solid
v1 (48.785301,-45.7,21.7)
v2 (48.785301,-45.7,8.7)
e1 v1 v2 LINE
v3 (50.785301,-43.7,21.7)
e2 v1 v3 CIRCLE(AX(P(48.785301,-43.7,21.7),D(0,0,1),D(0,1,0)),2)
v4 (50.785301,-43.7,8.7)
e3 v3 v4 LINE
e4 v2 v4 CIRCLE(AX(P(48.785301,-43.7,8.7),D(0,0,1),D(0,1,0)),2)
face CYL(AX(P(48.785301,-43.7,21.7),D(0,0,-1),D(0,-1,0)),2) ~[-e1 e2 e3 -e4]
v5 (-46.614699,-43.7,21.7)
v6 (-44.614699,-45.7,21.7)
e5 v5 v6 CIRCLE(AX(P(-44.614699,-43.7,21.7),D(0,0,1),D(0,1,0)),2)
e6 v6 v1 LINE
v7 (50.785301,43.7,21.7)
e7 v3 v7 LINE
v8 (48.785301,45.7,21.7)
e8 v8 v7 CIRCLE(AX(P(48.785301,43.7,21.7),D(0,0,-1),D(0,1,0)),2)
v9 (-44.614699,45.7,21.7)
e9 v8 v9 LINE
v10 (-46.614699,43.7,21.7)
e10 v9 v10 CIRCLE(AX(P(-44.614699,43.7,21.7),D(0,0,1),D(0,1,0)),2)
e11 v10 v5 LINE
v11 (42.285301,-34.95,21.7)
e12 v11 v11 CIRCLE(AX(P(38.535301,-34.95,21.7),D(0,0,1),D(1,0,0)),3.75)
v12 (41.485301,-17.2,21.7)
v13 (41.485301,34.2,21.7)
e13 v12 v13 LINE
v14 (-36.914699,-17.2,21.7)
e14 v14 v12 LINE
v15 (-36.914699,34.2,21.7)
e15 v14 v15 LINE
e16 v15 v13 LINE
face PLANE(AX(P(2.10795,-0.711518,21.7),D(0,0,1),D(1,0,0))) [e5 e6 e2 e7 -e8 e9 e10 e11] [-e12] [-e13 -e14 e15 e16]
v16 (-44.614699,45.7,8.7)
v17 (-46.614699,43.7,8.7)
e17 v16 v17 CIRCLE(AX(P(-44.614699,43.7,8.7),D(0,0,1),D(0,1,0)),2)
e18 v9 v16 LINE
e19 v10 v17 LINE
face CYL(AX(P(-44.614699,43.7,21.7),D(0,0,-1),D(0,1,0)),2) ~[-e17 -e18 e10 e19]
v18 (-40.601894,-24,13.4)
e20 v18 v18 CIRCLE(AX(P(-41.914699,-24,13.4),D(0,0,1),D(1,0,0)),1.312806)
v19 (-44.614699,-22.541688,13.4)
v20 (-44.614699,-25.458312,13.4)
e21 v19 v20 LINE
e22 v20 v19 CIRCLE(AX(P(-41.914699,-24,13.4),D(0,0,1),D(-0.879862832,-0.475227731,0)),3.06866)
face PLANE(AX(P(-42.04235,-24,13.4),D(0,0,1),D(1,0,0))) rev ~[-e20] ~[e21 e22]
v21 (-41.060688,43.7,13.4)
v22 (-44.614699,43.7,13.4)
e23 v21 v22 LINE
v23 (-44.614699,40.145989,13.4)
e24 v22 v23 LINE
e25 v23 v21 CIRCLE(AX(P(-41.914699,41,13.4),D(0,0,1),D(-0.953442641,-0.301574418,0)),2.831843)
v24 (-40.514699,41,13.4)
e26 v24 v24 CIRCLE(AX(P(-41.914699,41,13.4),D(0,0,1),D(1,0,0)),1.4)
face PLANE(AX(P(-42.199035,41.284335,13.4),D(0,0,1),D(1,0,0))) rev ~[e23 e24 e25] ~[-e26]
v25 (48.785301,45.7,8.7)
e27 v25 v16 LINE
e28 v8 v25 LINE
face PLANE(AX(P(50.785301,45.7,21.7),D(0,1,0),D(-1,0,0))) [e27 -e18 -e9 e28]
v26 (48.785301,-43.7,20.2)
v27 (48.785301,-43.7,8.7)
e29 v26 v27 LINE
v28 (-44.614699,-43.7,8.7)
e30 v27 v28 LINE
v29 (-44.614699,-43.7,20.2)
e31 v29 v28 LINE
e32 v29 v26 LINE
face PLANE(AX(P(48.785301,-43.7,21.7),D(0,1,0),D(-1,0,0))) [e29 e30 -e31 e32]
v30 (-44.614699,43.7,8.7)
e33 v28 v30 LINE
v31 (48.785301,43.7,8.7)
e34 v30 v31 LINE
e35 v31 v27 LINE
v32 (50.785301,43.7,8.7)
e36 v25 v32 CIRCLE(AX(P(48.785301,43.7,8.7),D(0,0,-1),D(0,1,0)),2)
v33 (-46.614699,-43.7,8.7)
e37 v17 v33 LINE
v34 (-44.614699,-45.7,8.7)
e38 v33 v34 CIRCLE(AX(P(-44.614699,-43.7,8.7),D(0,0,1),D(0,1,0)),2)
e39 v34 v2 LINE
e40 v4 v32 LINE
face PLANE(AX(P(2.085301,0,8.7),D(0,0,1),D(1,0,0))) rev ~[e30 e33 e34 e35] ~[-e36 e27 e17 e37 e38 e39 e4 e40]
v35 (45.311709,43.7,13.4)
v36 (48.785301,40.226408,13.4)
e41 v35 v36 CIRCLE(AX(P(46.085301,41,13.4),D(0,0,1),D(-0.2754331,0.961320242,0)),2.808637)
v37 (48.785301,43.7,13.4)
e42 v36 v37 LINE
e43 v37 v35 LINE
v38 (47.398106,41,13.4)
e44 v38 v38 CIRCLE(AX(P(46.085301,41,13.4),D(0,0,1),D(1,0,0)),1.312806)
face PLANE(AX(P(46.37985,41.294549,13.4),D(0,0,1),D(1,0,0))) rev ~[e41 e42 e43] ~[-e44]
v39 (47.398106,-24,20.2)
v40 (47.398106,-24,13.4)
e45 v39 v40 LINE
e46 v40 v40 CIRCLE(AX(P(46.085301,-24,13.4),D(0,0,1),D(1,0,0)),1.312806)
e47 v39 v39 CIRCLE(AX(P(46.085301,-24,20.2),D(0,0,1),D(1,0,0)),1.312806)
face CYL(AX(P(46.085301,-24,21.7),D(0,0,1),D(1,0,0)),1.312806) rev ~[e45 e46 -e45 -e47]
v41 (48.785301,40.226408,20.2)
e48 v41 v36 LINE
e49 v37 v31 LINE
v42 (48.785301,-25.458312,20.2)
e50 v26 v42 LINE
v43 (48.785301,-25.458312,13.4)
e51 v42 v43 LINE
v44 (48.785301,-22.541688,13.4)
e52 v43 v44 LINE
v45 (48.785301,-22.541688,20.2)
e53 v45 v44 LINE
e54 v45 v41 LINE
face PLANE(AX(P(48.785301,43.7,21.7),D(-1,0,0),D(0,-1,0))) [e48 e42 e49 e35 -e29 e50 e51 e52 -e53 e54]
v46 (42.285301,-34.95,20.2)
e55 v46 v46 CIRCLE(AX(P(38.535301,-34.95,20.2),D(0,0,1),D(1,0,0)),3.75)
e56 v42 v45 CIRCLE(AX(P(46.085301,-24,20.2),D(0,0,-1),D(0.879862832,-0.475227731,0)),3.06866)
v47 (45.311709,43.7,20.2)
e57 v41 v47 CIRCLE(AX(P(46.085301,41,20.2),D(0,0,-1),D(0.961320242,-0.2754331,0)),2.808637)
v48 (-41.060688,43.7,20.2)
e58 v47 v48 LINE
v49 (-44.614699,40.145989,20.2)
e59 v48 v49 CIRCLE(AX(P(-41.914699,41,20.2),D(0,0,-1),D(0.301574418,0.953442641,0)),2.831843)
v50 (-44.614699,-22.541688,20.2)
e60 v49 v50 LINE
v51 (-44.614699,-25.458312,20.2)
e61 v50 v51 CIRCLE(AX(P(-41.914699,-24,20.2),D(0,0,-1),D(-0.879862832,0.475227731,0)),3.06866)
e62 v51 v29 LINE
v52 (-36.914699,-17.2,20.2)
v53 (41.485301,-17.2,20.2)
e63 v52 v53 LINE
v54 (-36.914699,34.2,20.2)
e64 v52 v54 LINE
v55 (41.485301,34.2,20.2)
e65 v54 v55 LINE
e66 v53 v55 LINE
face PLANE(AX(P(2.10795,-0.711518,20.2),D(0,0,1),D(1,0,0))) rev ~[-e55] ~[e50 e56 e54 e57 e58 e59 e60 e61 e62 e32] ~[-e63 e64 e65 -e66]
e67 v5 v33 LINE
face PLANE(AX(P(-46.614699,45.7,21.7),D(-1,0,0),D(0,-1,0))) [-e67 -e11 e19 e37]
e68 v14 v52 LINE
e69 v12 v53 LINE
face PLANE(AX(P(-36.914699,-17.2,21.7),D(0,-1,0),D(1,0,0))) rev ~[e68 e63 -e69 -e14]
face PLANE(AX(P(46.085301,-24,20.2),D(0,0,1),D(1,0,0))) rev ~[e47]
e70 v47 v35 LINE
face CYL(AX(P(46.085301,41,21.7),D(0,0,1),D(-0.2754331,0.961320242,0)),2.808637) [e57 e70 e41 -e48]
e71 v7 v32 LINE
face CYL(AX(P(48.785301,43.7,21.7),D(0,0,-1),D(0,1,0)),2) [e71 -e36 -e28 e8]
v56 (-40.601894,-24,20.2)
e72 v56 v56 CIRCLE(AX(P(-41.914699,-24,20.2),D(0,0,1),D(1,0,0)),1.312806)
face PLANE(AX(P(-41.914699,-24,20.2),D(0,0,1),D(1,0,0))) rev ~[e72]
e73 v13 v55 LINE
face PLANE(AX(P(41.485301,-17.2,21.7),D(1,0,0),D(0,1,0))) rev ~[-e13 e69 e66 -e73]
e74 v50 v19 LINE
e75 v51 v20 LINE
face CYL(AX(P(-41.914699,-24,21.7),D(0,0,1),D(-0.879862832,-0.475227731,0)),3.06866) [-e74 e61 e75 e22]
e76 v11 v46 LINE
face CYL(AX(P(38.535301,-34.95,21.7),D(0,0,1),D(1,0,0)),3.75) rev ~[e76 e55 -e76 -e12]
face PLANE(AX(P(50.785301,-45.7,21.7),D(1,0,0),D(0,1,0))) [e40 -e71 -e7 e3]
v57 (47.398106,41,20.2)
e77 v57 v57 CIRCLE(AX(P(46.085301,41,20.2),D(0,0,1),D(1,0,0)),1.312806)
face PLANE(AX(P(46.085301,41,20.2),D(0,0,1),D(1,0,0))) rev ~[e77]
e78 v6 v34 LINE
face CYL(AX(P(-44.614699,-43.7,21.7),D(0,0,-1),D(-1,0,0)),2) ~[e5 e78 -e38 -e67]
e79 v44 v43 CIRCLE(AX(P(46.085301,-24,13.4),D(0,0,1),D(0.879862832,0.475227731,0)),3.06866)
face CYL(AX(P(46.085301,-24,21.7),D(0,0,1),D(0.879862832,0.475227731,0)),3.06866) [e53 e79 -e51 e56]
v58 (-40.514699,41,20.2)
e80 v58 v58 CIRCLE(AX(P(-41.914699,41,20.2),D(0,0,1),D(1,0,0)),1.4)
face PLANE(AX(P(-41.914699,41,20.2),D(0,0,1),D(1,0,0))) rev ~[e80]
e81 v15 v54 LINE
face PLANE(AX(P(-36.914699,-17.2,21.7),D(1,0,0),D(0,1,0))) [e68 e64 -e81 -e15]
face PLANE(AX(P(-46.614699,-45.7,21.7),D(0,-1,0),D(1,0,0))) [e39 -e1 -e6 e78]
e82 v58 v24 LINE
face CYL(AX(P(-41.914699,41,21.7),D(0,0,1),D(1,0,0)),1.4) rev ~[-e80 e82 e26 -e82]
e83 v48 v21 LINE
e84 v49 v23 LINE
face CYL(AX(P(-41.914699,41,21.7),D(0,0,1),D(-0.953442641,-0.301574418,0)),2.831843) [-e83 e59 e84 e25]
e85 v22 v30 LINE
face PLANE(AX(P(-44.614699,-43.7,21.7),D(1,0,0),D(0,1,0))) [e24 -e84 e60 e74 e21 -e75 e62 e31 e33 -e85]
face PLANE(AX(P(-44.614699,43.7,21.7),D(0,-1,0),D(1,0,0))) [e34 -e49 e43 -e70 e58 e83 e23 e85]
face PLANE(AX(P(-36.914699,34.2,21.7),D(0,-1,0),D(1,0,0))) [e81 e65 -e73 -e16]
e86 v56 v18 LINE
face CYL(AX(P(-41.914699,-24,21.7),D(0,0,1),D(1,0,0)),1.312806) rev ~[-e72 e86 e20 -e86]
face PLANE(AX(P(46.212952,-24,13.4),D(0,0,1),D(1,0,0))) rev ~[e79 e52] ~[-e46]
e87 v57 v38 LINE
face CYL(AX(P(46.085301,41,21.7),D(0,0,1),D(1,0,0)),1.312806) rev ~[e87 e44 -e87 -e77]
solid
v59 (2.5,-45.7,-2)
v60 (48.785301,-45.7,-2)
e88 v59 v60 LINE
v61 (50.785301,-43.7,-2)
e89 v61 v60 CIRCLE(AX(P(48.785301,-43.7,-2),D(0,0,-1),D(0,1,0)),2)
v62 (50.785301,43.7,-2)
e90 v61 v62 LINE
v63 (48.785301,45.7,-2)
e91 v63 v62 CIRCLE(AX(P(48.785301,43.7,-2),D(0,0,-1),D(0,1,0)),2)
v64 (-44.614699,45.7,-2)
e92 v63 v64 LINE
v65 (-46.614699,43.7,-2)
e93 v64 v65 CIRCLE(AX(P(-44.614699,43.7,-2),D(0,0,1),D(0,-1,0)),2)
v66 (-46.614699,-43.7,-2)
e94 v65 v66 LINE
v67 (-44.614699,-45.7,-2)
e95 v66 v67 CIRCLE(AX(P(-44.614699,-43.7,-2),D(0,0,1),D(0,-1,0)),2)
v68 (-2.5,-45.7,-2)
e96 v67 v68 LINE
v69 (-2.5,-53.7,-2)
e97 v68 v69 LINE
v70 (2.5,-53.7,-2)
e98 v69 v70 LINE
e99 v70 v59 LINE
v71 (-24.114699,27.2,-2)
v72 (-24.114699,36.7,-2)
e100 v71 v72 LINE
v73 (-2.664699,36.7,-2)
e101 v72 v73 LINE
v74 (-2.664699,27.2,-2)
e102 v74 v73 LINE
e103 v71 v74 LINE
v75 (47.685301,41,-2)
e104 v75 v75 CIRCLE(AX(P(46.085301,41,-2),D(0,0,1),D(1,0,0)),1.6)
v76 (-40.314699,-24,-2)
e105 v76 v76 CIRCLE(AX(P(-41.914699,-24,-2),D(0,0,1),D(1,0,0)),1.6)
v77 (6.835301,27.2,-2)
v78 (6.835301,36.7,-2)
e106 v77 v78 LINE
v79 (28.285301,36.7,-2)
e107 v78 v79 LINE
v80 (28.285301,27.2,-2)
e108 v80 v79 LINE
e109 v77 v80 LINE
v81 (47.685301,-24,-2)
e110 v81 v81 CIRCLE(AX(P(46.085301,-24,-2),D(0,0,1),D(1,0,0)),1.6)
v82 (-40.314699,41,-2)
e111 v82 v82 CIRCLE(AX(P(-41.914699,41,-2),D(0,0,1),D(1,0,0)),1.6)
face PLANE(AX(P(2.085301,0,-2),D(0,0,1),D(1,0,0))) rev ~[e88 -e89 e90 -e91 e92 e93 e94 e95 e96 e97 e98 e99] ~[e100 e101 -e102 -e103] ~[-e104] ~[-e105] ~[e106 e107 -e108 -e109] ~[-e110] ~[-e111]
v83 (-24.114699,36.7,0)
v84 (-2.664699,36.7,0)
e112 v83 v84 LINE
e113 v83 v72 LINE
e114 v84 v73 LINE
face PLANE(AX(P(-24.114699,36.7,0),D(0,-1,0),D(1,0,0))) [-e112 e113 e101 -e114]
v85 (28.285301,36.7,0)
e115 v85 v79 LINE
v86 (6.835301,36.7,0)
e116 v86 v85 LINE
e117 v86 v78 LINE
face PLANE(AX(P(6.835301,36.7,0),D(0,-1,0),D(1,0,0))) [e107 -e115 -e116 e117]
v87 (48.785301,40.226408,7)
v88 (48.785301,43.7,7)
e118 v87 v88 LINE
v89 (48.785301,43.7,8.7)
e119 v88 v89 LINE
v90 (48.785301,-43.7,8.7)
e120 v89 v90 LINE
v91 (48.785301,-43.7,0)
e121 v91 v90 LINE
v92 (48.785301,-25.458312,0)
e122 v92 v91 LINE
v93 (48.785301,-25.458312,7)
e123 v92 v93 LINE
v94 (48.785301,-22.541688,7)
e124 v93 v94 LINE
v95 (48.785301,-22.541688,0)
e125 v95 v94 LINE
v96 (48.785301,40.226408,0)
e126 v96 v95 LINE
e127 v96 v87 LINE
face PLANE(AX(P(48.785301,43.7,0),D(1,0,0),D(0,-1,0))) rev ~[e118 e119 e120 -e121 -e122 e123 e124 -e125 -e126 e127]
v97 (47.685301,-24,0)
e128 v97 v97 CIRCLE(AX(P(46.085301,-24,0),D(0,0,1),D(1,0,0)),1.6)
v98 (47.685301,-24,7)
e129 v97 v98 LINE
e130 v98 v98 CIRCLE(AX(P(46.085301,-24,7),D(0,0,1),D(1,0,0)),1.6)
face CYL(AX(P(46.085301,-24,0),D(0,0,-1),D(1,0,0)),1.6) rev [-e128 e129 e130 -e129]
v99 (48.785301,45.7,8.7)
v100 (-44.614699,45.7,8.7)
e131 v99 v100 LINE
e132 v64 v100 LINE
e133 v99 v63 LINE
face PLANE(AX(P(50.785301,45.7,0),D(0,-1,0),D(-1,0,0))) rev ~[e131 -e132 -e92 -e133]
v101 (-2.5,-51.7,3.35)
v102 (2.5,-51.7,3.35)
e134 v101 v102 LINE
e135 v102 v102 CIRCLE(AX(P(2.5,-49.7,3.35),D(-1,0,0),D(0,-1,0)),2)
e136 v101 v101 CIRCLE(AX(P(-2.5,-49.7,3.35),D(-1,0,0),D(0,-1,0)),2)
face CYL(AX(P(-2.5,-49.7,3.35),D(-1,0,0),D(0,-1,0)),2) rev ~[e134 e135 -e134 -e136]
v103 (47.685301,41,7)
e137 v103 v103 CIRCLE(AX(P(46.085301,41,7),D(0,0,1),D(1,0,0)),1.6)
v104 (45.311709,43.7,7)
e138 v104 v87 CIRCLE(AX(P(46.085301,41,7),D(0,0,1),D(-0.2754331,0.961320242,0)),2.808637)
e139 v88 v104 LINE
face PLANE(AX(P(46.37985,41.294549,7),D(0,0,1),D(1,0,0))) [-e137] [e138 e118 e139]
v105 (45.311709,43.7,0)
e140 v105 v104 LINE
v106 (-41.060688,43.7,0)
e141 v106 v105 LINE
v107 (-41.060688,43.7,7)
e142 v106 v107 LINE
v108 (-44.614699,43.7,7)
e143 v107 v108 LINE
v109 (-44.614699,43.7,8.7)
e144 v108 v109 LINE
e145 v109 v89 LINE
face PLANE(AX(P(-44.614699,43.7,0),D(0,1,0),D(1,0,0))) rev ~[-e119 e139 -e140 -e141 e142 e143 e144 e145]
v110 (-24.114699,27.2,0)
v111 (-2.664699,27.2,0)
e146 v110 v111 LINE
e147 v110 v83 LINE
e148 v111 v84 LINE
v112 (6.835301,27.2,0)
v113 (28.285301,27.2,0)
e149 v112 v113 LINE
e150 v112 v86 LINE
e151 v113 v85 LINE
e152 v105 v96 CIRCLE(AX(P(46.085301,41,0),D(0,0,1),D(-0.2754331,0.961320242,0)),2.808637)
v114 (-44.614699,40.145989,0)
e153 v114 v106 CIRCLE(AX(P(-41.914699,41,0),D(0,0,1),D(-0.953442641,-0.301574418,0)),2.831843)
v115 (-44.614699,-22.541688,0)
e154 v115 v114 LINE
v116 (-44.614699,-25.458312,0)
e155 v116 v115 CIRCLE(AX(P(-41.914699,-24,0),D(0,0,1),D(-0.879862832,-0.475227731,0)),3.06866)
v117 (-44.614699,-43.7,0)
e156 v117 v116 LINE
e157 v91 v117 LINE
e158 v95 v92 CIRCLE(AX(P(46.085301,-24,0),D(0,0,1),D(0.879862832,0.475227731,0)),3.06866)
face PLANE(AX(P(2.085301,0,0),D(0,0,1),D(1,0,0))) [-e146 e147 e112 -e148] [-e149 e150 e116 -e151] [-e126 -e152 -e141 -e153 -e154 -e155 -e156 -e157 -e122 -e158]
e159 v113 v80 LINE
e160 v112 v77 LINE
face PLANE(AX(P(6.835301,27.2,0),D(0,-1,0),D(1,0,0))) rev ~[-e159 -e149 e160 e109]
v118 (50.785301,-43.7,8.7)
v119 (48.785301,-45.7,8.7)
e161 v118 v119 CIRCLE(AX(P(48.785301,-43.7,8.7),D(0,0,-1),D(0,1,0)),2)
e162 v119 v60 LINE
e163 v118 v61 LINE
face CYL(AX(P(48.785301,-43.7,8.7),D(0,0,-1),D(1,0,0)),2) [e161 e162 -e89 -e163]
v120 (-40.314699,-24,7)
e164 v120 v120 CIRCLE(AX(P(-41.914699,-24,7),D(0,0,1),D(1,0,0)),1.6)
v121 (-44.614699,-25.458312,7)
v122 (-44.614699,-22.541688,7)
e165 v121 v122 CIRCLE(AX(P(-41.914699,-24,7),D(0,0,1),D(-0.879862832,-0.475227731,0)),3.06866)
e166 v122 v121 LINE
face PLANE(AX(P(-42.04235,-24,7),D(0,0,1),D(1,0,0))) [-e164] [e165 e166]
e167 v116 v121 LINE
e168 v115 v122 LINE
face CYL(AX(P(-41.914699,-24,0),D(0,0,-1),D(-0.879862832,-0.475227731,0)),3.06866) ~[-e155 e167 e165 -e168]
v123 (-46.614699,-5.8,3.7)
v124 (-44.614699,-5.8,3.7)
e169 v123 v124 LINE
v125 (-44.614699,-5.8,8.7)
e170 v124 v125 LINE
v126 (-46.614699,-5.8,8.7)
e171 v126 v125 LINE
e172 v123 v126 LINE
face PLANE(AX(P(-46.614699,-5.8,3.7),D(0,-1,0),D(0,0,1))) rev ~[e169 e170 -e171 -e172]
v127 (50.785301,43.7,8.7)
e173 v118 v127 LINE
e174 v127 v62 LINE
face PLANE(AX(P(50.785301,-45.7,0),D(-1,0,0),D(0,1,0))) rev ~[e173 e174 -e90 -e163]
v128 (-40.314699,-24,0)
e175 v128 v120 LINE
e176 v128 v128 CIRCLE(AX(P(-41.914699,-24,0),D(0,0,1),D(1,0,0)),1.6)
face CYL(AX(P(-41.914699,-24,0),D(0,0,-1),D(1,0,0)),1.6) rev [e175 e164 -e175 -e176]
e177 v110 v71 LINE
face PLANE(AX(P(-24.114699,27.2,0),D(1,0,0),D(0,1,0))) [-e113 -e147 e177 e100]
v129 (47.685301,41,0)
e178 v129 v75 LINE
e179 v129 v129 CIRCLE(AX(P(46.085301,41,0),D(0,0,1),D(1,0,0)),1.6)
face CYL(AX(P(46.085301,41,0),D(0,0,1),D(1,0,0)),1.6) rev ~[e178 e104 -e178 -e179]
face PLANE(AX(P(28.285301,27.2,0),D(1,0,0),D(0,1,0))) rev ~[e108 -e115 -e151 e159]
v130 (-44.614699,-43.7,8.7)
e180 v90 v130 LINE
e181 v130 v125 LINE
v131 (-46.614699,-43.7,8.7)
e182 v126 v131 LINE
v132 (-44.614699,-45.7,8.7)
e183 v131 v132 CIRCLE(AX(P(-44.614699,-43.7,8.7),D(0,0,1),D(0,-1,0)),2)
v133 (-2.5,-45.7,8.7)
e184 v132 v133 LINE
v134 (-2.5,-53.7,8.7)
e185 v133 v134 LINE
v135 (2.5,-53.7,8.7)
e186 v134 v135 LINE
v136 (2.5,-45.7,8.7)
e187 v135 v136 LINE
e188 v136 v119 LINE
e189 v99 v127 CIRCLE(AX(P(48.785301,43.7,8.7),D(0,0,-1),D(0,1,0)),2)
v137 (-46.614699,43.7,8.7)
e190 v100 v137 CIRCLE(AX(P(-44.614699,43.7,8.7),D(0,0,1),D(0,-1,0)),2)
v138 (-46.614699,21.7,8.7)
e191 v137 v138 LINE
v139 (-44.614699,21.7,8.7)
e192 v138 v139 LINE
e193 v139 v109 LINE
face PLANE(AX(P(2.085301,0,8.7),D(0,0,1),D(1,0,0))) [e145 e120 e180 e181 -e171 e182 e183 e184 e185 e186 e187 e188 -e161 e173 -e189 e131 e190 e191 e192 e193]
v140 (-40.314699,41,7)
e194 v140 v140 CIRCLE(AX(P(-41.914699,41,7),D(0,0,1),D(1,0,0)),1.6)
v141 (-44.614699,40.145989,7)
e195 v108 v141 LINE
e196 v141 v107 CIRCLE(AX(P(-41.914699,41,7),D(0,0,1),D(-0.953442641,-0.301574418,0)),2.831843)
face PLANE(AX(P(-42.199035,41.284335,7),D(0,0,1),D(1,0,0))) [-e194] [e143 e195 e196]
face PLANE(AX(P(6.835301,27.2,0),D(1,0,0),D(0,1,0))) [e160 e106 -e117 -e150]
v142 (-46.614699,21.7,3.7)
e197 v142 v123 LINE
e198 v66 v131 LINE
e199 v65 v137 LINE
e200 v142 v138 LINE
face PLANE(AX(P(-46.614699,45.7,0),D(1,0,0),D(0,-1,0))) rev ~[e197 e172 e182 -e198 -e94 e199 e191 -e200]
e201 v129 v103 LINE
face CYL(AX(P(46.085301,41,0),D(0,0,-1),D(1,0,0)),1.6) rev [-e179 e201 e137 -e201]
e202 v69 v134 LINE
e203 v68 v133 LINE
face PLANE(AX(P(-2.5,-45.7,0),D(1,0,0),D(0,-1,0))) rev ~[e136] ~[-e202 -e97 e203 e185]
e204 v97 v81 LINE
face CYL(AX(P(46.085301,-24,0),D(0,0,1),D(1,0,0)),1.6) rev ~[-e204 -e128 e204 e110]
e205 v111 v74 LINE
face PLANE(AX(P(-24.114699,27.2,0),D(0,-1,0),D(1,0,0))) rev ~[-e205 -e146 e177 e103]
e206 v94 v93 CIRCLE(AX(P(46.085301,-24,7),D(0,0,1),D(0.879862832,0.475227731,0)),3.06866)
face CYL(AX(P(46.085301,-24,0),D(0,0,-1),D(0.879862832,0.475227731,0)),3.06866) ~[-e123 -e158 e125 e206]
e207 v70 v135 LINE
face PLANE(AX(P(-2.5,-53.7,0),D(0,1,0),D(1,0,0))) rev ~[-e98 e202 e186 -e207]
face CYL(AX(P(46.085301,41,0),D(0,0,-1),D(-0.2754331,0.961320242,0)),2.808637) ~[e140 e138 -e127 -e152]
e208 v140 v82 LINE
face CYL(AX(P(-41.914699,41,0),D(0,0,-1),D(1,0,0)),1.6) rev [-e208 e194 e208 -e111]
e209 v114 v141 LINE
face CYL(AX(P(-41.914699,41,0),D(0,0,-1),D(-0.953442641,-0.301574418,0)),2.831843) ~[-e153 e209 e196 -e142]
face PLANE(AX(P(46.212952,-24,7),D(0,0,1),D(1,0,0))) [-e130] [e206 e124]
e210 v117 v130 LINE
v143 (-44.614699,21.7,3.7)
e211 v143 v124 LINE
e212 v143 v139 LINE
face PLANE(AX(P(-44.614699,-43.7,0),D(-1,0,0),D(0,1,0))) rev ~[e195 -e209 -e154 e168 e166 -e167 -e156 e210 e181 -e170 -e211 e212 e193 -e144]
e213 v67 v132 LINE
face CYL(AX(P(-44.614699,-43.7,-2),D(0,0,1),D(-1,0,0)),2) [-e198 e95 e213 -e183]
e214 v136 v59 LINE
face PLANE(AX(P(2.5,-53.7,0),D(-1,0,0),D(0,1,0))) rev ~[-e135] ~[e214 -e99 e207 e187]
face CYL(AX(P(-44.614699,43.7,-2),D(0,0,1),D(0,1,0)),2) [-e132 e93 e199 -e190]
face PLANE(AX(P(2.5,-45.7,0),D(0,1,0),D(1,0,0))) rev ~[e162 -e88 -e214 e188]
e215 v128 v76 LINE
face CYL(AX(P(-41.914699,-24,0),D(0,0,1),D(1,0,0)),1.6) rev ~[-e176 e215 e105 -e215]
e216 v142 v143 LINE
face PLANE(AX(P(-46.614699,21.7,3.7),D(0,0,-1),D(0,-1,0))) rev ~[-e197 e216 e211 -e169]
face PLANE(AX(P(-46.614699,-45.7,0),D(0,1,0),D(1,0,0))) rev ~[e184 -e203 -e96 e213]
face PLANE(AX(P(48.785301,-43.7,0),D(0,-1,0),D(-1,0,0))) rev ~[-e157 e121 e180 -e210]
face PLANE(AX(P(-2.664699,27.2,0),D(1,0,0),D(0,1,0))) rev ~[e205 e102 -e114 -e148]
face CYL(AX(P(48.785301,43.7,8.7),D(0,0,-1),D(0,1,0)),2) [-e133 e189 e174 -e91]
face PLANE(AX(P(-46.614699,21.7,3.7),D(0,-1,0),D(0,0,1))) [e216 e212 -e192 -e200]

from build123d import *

# Parameters (mm, degrees)
F0_W      = 21.45
F0_H      = 9.5
F0_R      = 1.6
F1_DEPTH  = 2
F2_DEPTH  = 7
F3_DEPTH  = 8.7
F4_W      = 27.5
F4_H      = 5
F5_DEPTH  = 2
F8_DEPTH  = 13
F7_R      = 1.4
F7_R_2    = 1.3128055781
F9_DEPTH  = 8.3
F7_R_3    = 3.75
F7_W      = 78.4
F7_H      = 51.4
F10_DEPTH = 1.5
F11_R     = 2
F12_DEPTH = 53.2863007297
F13_R     = 2
F13_2_R   = 2


with BuildPart() as f1:
    # F0 (on Top) → F1 (new body)
    with BuildSketch(Plane.XY):
        Polygon((50.7853007297, 45.7), (-46.6146992703, 45.7), (-46.6146992703, -45.7), (-2.5, -45.7), (2.5, -45.7), (50.7853007297, -45.7), align=None)
        Polygon((-44.6146992703, 40.1459885527), (-44.6146992703, 43.7), (-41.060687823, 43.7), (45.3117090194, 43.7), (48.7853007297, 43.7), (48.7853007297, 40.2264082898), (48.7853007297, -22.5416876048), (48.7853007297, -25.4583123952), (48.7853007297, -43.7), (-44.6146992703, -43.7), (-44.6146992703, -25.4583123952), (-44.6146992703, -22.5416876048), align=None, mode=Mode.SUBTRACT)
        with BuildLine():
            Line((45.3117090194, 43.7), (-41.060687823, 43.7))
            ThreePointArc((-41.060687823, 43.7), (-39.9122837849, 38.9975845146), (-44.6146992703, 40.1459885527))
            Line((-44.6146992703, 40.1459885527), (-44.6146992703, -22.5416876048))
            ThreePointArc((-44.6146992703, -22.5416876048), (-38.8460391324, -24), (-44.6146992703, -25.4583123952))
            Line((-44.6146992703, -25.4583123952), (-44.6146992703, -43.7))
            Line((-44.6146992703, -43.7), (48.7853007297, -43.7))
            Line((48.7853007297, -43.7), (48.7853007297, -25.4583123952))
            ThreePointArc((48.7853007297, -25.4583123952), (43.0166405918, -24), (48.7853007297, -22.5416876048))
            Line((48.7853007297, -22.5416876048), (48.7853007297, 40.2264082898))
            ThreePointArc((48.7853007297, 40.2264082898), (44.099294167, 39.0139934373), (45.3117090194, 43.7))
        make_face()
        with Locations((-13.3896992703, 31.95)):
            Rectangle(F0_W, F0_H, mode=Mode.SUBTRACT)
        with Locations((17.5603007297, 31.95)):
            Rectangle(F0_W, F0_H, mode=Mode.SUBTRACT)
        Polygon((2.5, -45.7), (-2.5, -45.7), (-2.5, -53.7), (0, -53.7), (2.5, -53.7), align=None)
        with BuildLine():
            ThreePointArc((-44.6146992703, -25.4583123952), (-38.8460391324, -24), (-44.6146992703, -22.5416876048))
            Line((-44.6146992703, -22.5416876048), (-44.6146992703, -25.4583123952))
        make_face()
        with Locations((-41.9146992703, -24)):
            Circle(F0_R, mode=Mode.SUBTRACT)
        with BuildLine():
            Line((48.7853007297, -25.4583123952), (48.7853007297, -22.5416876048))
            ThreePointArc((48.7853007297, -22.5416876048), (43.0166405918, -24), (48.7853007297, -25.4583123952))
        make_face()
        with Locations((46.0853007297, -24)):
            Circle(F0_R, mode=Mode.SUBTRACT)
        with BuildLine():
            Line((-41.060687823, 43.7), (-44.6146992703, 43.7))
            Line((-44.6146992703, 43.7), (-44.6146992703, 40.1459885527))
            ThreePointArc((-44.6146992703, 40.1459885527), (-39.9122837849, 38.9975845146), (-41.060687823, 43.7))
        make_face()
        with Locations((-41.9146992703, 41)):
            Circle(F0_R, mode=Mode.SUBTRACT)
        with BuildLine():
            Line((48.7853007297, 43.7), (45.3117090194, 43.7))
            ThreePointArc((45.3117090194, 43.7), (44.099294167, 39.0139934373), (48.7853007297, 40.2264082898))
            Line((48.7853007297, 40.2264082898), (48.7853007297, 43.7))
        make_face()
        with Locations((46.0853007297, 41)):
            Circle(F0_R, mode=Mode.SUBTRACT)
    extrude(amount=-F1_DEPTH)

    # F0 (on Top) → F2 (join)
    with BuildSketch(Plane.XY):
        with BuildLine():
            Line((-41.060687823, 43.7), (-44.6146992703, 43.7))
            Line((-44.6146992703, 43.7), (-44.6146992703, 40.1459885527))
            ThreePointArc((-44.6146992703, 40.1459885527), (-39.9122837849, 38.9975845146), (-41.060687823, 43.7))
        make_face()
        with Locations((-41.9146992703, 41)):
            Circle(F0_R, mode=Mode.SUBTRACT)
        with BuildLine():
            Line((48.7853007297, 43.7), (45.3117090194, 43.7))
            ThreePointArc((45.3117090194, 43.7), (44.099294167, 39.0139934373), (48.7853007297, 40.2264082898))
            Line((48.7853007297, 40.2264082898), (48.7853007297, 43.7))
        make_face()
        with Locations((46.0853007297, 41)):
            Circle(F0_R, mode=Mode.SUBTRACT)
        with BuildLine():
            Line((48.7853007297, -25.4583123952), (48.7853007297, -22.5416876048))
            ThreePointArc((48.7853007297, -22.5416876048), (43.0166405918, -24), (48.7853007297, -25.4583123952))
        make_face()
        with Locations((46.0853007297, -24)):
            Circle(F0_R, mode=Mode.SUBTRACT)
        with BuildLine():
            ThreePointArc((-44.6146992703, -25.4583123952), (-38.8460391324, -24), (-44.6146992703, -22.5416876048))
            Line((-44.6146992703, -22.5416876048), (-44.6146992703, -25.4583123952))
        make_face()
        with Locations((-41.9146992703, -24)):
            Circle(F0_R, mode=Mode.SUBTRACT)
    extrude(amount=F2_DEPTH)

    # F0 (on Top) → F3 (join)
    with BuildSketch(Plane.XY):
        Polygon((50.7853007297, 45.7), (-46.6146992703, 45.7), (-46.6146992703, -45.7), (-2.5, -45.7), (2.5, -45.7), (50.7853007297, -45.7), align=None)
        Polygon((-44.6146992703, 40.1459885527), (-44.6146992703, 43.7), (-41.060687823, 43.7), (45.3117090194, 43.7), (48.7853007297, 43.7), (48.7853007297, 40.2264082898), (48.7853007297, -22.5416876048), (48.7853007297, -25.4583123952), (48.7853007297, -43.7), (-44.6146992703, -43.7), (-44.6146992703, -25.4583123952), (-44.6146992703, -22.5416876048), align=None, mode=Mode.SUBTRACT)
        Polygon((2.5, -45.7), (-2.5, -45.7), (-2.5, -53.7), (0, -53.7), (2.5, -53.7), align=None)
    extrude(amount=F3_DEPTH)

    # F4 (on face) → F5 (cut, through all)
    with BuildSketch(Plane(origin=(-46.6146992703, 0, 0), x_dir=(0, -1, 0), z_dir=(-1, 0, 0))):
        with Locations((-7.95, 6.2)):
            Rectangle(F4_W, F4_H)
    extrude(amount=-F5_DEPTH, mode=Mode.SUBTRACT)

    # F11 (on face) → F12 (cut, through all)
    with BuildSketch(Plane(origin=(-2.5, 0, 0), x_dir=(0, -1, 0), z_dir=(-1, 0, 0))):
        with Locations((49.7, 3.35)):
            Circle(F11_R)
    extrude(amount=-F12_DEPTH, mode=Mode.SUBTRACT)

    # F13#2
    f13_2_edges = [f1.edges().sort_by_distance(p)[0] for p in [
        (-46.614699, -45.7, 3.35),
        (50.785301, -45.7, 3.35),
        (50.785301, 45.7, 3.35),
        (-46.614699, 45.7, 3.35),
    ]]
    fillet(f13_2_edges, radius=F13_2_R)


with BuildPart() as f8:
    # F7 (on offset) → F8 (new body)
    with BuildSketch(Plane.XY.offset(21.7)):
        Polygon((50.7853007297, 45.7), (-46.6146992703, 45.7), (-46.6146992703, -45.7), (-2.5, -45.7), (2.5, -45.7), (50.7853007297, -45.7), align=None)
        Polygon((-44.6146992703, 40.1459885527), (-44.6146992703, 43.7), (-41.060687823, 43.7), (45.3117090194, 43.7), (48.7853007297, 43.7), (48.7853007297, 40.2264082898), (48.7853007297, -22.5416876048), (48.7853007297, -25.4583123952), (48.7853007297, -43.7), (-44.6146992703, -43.7), (-44.6146992703, -25.4583123952), (-44.6146992703, -22.5416876048), align=None, mode=Mode.SUBTRACT)
    extrude(amount=-F8_DEPTH)

    # F7 (on offset) → F9 (join)
    with BuildSketch(Plane.XY.offset(21.7)):
        with BuildLine():
            Line((-41.060687823, 43.7), (-44.6146992703, 43.7))
            Line((-44.6146992703, 43.7), (-44.6146992703, 40.1459885527))
            ThreePointArc((-44.6146992703, 40.1459885527), (-39.9122837849, 38.9975845146), (-41.060687823, 43.7))
        make_face()
        with Locations((-41.9146992703, 41)):
            Circle(F7_R, mode=Mode.SUBTRACT)
        with BuildLine():
            Line((48.7853007297, 43.7), (45.3117090194, 43.7))
            ThreePointArc((45.3117090194, 43.7), (44.099294167, 39.0139934373), (48.7853007297, 40.2264082898))
            Line((48.7853007297, 40.2264082898), (48.7853007297, 43.7))
        make_face()
        with Locations((46.0853007297, 41)):
            Circle(F7_R_2, mode=Mode.SUBTRACT)
        with BuildLine():
            Line((48.7853007297, -25.4583123952), (48.7853007297, -22.5416876048))
            ThreePointArc((48.7853007297, -22.5416876048), (43.0166405918, -24), (48.7853007297, -25.4583123952))
        make_face()
        with Locations((46.0853007297, -24)):
            Circle(F7_R_2, mode=Mode.SUBTRACT)
        with BuildLine():
            ThreePointArc((-44.6146992703, -25.4583123952), (-38.8460391324, -24), (-44.6146992703, -22.5416876048))
            Line((-44.6146992703, -22.5416876048), (-44.6146992703, -25.4583123952))
        make_face()
        with Locations((-41.9146992703, -24)):
            Circle(F7_R_2, mode=Mode.SUBTRACT)
    extrude(amount=-F9_DEPTH)

    # F7 (on offset) → F10 (join)
    with BuildSketch(Plane.XY.offset(21.7)):
        with BuildLine():
            ThreePointArc((-41.060687823, 43.7), (-39.9122837849, 38.9975845146), (-44.6146992703, 40.1459885527))
            Line((-44.6146992703, 40.1459885527), (-44.6146992703, -22.5416876048))
            ThreePointArc((-44.6146992703, -22.5416876048), (-38.8460391324, -24), (-44.6146992703, -25.4583123952))
            Line((-44.6146992703, -25.4583123952), (-44.6146992703, -43.7))
            Line((-44.6146992703, -43.7), (48.7853007297, -43.7))
            Line((48.7853007297, -43.7), (48.7853007297, -25.4583123952))
            ThreePointArc((48.7853007297, -25.4583123952), (43.0166405918, -24), (48.7853007297, -22.5416876048))
            Line((48.7853007297, -22.5416876048), (48.7853007297, 40.2264082898))
            ThreePointArc((48.7853007297, 40.2264082898), (44.099294167, 39.0139934373), (45.3117090194, 43.7))
            Line((45.3117090194, 43.7), (-41.060687823, 43.7))
        make_face()
        with Locations((38.5353007297, -34.95)):
            Circle(F7_R_3, mode=Mode.SUBTRACT)
        with Locations((2.2853007297, 8.5)):
            Rectangle(F7_W, F7_H, mode=Mode.SUBTRACT)
        with Locations((-41.9146992703, 41)):
            Circle(F7_R)
        with Locations((-41.9146992703, -24)):
            Circle(F7_R_2)
        with Locations((46.0853007297, 41)):
            Circle(F7_R_2)
        with Locations((46.0853007297, -24)):
            Circle(F7_R_2)
    extrude(amount=-F10_DEPTH)

    # F13
    f13_edges = [f8.edges().sort_by_distance(p)[0] for p in [
        (-46.614699, -45.7, 15.2),
        (50.785301, -45.7, 15.2),
        (50.785301, 45.7, 15.2),
        (-46.614699, 45.7, 15.2),
    ]]
    fillet(f13_edges, radius=F13_R)


solid = Compound([f1.part, f8.part])
